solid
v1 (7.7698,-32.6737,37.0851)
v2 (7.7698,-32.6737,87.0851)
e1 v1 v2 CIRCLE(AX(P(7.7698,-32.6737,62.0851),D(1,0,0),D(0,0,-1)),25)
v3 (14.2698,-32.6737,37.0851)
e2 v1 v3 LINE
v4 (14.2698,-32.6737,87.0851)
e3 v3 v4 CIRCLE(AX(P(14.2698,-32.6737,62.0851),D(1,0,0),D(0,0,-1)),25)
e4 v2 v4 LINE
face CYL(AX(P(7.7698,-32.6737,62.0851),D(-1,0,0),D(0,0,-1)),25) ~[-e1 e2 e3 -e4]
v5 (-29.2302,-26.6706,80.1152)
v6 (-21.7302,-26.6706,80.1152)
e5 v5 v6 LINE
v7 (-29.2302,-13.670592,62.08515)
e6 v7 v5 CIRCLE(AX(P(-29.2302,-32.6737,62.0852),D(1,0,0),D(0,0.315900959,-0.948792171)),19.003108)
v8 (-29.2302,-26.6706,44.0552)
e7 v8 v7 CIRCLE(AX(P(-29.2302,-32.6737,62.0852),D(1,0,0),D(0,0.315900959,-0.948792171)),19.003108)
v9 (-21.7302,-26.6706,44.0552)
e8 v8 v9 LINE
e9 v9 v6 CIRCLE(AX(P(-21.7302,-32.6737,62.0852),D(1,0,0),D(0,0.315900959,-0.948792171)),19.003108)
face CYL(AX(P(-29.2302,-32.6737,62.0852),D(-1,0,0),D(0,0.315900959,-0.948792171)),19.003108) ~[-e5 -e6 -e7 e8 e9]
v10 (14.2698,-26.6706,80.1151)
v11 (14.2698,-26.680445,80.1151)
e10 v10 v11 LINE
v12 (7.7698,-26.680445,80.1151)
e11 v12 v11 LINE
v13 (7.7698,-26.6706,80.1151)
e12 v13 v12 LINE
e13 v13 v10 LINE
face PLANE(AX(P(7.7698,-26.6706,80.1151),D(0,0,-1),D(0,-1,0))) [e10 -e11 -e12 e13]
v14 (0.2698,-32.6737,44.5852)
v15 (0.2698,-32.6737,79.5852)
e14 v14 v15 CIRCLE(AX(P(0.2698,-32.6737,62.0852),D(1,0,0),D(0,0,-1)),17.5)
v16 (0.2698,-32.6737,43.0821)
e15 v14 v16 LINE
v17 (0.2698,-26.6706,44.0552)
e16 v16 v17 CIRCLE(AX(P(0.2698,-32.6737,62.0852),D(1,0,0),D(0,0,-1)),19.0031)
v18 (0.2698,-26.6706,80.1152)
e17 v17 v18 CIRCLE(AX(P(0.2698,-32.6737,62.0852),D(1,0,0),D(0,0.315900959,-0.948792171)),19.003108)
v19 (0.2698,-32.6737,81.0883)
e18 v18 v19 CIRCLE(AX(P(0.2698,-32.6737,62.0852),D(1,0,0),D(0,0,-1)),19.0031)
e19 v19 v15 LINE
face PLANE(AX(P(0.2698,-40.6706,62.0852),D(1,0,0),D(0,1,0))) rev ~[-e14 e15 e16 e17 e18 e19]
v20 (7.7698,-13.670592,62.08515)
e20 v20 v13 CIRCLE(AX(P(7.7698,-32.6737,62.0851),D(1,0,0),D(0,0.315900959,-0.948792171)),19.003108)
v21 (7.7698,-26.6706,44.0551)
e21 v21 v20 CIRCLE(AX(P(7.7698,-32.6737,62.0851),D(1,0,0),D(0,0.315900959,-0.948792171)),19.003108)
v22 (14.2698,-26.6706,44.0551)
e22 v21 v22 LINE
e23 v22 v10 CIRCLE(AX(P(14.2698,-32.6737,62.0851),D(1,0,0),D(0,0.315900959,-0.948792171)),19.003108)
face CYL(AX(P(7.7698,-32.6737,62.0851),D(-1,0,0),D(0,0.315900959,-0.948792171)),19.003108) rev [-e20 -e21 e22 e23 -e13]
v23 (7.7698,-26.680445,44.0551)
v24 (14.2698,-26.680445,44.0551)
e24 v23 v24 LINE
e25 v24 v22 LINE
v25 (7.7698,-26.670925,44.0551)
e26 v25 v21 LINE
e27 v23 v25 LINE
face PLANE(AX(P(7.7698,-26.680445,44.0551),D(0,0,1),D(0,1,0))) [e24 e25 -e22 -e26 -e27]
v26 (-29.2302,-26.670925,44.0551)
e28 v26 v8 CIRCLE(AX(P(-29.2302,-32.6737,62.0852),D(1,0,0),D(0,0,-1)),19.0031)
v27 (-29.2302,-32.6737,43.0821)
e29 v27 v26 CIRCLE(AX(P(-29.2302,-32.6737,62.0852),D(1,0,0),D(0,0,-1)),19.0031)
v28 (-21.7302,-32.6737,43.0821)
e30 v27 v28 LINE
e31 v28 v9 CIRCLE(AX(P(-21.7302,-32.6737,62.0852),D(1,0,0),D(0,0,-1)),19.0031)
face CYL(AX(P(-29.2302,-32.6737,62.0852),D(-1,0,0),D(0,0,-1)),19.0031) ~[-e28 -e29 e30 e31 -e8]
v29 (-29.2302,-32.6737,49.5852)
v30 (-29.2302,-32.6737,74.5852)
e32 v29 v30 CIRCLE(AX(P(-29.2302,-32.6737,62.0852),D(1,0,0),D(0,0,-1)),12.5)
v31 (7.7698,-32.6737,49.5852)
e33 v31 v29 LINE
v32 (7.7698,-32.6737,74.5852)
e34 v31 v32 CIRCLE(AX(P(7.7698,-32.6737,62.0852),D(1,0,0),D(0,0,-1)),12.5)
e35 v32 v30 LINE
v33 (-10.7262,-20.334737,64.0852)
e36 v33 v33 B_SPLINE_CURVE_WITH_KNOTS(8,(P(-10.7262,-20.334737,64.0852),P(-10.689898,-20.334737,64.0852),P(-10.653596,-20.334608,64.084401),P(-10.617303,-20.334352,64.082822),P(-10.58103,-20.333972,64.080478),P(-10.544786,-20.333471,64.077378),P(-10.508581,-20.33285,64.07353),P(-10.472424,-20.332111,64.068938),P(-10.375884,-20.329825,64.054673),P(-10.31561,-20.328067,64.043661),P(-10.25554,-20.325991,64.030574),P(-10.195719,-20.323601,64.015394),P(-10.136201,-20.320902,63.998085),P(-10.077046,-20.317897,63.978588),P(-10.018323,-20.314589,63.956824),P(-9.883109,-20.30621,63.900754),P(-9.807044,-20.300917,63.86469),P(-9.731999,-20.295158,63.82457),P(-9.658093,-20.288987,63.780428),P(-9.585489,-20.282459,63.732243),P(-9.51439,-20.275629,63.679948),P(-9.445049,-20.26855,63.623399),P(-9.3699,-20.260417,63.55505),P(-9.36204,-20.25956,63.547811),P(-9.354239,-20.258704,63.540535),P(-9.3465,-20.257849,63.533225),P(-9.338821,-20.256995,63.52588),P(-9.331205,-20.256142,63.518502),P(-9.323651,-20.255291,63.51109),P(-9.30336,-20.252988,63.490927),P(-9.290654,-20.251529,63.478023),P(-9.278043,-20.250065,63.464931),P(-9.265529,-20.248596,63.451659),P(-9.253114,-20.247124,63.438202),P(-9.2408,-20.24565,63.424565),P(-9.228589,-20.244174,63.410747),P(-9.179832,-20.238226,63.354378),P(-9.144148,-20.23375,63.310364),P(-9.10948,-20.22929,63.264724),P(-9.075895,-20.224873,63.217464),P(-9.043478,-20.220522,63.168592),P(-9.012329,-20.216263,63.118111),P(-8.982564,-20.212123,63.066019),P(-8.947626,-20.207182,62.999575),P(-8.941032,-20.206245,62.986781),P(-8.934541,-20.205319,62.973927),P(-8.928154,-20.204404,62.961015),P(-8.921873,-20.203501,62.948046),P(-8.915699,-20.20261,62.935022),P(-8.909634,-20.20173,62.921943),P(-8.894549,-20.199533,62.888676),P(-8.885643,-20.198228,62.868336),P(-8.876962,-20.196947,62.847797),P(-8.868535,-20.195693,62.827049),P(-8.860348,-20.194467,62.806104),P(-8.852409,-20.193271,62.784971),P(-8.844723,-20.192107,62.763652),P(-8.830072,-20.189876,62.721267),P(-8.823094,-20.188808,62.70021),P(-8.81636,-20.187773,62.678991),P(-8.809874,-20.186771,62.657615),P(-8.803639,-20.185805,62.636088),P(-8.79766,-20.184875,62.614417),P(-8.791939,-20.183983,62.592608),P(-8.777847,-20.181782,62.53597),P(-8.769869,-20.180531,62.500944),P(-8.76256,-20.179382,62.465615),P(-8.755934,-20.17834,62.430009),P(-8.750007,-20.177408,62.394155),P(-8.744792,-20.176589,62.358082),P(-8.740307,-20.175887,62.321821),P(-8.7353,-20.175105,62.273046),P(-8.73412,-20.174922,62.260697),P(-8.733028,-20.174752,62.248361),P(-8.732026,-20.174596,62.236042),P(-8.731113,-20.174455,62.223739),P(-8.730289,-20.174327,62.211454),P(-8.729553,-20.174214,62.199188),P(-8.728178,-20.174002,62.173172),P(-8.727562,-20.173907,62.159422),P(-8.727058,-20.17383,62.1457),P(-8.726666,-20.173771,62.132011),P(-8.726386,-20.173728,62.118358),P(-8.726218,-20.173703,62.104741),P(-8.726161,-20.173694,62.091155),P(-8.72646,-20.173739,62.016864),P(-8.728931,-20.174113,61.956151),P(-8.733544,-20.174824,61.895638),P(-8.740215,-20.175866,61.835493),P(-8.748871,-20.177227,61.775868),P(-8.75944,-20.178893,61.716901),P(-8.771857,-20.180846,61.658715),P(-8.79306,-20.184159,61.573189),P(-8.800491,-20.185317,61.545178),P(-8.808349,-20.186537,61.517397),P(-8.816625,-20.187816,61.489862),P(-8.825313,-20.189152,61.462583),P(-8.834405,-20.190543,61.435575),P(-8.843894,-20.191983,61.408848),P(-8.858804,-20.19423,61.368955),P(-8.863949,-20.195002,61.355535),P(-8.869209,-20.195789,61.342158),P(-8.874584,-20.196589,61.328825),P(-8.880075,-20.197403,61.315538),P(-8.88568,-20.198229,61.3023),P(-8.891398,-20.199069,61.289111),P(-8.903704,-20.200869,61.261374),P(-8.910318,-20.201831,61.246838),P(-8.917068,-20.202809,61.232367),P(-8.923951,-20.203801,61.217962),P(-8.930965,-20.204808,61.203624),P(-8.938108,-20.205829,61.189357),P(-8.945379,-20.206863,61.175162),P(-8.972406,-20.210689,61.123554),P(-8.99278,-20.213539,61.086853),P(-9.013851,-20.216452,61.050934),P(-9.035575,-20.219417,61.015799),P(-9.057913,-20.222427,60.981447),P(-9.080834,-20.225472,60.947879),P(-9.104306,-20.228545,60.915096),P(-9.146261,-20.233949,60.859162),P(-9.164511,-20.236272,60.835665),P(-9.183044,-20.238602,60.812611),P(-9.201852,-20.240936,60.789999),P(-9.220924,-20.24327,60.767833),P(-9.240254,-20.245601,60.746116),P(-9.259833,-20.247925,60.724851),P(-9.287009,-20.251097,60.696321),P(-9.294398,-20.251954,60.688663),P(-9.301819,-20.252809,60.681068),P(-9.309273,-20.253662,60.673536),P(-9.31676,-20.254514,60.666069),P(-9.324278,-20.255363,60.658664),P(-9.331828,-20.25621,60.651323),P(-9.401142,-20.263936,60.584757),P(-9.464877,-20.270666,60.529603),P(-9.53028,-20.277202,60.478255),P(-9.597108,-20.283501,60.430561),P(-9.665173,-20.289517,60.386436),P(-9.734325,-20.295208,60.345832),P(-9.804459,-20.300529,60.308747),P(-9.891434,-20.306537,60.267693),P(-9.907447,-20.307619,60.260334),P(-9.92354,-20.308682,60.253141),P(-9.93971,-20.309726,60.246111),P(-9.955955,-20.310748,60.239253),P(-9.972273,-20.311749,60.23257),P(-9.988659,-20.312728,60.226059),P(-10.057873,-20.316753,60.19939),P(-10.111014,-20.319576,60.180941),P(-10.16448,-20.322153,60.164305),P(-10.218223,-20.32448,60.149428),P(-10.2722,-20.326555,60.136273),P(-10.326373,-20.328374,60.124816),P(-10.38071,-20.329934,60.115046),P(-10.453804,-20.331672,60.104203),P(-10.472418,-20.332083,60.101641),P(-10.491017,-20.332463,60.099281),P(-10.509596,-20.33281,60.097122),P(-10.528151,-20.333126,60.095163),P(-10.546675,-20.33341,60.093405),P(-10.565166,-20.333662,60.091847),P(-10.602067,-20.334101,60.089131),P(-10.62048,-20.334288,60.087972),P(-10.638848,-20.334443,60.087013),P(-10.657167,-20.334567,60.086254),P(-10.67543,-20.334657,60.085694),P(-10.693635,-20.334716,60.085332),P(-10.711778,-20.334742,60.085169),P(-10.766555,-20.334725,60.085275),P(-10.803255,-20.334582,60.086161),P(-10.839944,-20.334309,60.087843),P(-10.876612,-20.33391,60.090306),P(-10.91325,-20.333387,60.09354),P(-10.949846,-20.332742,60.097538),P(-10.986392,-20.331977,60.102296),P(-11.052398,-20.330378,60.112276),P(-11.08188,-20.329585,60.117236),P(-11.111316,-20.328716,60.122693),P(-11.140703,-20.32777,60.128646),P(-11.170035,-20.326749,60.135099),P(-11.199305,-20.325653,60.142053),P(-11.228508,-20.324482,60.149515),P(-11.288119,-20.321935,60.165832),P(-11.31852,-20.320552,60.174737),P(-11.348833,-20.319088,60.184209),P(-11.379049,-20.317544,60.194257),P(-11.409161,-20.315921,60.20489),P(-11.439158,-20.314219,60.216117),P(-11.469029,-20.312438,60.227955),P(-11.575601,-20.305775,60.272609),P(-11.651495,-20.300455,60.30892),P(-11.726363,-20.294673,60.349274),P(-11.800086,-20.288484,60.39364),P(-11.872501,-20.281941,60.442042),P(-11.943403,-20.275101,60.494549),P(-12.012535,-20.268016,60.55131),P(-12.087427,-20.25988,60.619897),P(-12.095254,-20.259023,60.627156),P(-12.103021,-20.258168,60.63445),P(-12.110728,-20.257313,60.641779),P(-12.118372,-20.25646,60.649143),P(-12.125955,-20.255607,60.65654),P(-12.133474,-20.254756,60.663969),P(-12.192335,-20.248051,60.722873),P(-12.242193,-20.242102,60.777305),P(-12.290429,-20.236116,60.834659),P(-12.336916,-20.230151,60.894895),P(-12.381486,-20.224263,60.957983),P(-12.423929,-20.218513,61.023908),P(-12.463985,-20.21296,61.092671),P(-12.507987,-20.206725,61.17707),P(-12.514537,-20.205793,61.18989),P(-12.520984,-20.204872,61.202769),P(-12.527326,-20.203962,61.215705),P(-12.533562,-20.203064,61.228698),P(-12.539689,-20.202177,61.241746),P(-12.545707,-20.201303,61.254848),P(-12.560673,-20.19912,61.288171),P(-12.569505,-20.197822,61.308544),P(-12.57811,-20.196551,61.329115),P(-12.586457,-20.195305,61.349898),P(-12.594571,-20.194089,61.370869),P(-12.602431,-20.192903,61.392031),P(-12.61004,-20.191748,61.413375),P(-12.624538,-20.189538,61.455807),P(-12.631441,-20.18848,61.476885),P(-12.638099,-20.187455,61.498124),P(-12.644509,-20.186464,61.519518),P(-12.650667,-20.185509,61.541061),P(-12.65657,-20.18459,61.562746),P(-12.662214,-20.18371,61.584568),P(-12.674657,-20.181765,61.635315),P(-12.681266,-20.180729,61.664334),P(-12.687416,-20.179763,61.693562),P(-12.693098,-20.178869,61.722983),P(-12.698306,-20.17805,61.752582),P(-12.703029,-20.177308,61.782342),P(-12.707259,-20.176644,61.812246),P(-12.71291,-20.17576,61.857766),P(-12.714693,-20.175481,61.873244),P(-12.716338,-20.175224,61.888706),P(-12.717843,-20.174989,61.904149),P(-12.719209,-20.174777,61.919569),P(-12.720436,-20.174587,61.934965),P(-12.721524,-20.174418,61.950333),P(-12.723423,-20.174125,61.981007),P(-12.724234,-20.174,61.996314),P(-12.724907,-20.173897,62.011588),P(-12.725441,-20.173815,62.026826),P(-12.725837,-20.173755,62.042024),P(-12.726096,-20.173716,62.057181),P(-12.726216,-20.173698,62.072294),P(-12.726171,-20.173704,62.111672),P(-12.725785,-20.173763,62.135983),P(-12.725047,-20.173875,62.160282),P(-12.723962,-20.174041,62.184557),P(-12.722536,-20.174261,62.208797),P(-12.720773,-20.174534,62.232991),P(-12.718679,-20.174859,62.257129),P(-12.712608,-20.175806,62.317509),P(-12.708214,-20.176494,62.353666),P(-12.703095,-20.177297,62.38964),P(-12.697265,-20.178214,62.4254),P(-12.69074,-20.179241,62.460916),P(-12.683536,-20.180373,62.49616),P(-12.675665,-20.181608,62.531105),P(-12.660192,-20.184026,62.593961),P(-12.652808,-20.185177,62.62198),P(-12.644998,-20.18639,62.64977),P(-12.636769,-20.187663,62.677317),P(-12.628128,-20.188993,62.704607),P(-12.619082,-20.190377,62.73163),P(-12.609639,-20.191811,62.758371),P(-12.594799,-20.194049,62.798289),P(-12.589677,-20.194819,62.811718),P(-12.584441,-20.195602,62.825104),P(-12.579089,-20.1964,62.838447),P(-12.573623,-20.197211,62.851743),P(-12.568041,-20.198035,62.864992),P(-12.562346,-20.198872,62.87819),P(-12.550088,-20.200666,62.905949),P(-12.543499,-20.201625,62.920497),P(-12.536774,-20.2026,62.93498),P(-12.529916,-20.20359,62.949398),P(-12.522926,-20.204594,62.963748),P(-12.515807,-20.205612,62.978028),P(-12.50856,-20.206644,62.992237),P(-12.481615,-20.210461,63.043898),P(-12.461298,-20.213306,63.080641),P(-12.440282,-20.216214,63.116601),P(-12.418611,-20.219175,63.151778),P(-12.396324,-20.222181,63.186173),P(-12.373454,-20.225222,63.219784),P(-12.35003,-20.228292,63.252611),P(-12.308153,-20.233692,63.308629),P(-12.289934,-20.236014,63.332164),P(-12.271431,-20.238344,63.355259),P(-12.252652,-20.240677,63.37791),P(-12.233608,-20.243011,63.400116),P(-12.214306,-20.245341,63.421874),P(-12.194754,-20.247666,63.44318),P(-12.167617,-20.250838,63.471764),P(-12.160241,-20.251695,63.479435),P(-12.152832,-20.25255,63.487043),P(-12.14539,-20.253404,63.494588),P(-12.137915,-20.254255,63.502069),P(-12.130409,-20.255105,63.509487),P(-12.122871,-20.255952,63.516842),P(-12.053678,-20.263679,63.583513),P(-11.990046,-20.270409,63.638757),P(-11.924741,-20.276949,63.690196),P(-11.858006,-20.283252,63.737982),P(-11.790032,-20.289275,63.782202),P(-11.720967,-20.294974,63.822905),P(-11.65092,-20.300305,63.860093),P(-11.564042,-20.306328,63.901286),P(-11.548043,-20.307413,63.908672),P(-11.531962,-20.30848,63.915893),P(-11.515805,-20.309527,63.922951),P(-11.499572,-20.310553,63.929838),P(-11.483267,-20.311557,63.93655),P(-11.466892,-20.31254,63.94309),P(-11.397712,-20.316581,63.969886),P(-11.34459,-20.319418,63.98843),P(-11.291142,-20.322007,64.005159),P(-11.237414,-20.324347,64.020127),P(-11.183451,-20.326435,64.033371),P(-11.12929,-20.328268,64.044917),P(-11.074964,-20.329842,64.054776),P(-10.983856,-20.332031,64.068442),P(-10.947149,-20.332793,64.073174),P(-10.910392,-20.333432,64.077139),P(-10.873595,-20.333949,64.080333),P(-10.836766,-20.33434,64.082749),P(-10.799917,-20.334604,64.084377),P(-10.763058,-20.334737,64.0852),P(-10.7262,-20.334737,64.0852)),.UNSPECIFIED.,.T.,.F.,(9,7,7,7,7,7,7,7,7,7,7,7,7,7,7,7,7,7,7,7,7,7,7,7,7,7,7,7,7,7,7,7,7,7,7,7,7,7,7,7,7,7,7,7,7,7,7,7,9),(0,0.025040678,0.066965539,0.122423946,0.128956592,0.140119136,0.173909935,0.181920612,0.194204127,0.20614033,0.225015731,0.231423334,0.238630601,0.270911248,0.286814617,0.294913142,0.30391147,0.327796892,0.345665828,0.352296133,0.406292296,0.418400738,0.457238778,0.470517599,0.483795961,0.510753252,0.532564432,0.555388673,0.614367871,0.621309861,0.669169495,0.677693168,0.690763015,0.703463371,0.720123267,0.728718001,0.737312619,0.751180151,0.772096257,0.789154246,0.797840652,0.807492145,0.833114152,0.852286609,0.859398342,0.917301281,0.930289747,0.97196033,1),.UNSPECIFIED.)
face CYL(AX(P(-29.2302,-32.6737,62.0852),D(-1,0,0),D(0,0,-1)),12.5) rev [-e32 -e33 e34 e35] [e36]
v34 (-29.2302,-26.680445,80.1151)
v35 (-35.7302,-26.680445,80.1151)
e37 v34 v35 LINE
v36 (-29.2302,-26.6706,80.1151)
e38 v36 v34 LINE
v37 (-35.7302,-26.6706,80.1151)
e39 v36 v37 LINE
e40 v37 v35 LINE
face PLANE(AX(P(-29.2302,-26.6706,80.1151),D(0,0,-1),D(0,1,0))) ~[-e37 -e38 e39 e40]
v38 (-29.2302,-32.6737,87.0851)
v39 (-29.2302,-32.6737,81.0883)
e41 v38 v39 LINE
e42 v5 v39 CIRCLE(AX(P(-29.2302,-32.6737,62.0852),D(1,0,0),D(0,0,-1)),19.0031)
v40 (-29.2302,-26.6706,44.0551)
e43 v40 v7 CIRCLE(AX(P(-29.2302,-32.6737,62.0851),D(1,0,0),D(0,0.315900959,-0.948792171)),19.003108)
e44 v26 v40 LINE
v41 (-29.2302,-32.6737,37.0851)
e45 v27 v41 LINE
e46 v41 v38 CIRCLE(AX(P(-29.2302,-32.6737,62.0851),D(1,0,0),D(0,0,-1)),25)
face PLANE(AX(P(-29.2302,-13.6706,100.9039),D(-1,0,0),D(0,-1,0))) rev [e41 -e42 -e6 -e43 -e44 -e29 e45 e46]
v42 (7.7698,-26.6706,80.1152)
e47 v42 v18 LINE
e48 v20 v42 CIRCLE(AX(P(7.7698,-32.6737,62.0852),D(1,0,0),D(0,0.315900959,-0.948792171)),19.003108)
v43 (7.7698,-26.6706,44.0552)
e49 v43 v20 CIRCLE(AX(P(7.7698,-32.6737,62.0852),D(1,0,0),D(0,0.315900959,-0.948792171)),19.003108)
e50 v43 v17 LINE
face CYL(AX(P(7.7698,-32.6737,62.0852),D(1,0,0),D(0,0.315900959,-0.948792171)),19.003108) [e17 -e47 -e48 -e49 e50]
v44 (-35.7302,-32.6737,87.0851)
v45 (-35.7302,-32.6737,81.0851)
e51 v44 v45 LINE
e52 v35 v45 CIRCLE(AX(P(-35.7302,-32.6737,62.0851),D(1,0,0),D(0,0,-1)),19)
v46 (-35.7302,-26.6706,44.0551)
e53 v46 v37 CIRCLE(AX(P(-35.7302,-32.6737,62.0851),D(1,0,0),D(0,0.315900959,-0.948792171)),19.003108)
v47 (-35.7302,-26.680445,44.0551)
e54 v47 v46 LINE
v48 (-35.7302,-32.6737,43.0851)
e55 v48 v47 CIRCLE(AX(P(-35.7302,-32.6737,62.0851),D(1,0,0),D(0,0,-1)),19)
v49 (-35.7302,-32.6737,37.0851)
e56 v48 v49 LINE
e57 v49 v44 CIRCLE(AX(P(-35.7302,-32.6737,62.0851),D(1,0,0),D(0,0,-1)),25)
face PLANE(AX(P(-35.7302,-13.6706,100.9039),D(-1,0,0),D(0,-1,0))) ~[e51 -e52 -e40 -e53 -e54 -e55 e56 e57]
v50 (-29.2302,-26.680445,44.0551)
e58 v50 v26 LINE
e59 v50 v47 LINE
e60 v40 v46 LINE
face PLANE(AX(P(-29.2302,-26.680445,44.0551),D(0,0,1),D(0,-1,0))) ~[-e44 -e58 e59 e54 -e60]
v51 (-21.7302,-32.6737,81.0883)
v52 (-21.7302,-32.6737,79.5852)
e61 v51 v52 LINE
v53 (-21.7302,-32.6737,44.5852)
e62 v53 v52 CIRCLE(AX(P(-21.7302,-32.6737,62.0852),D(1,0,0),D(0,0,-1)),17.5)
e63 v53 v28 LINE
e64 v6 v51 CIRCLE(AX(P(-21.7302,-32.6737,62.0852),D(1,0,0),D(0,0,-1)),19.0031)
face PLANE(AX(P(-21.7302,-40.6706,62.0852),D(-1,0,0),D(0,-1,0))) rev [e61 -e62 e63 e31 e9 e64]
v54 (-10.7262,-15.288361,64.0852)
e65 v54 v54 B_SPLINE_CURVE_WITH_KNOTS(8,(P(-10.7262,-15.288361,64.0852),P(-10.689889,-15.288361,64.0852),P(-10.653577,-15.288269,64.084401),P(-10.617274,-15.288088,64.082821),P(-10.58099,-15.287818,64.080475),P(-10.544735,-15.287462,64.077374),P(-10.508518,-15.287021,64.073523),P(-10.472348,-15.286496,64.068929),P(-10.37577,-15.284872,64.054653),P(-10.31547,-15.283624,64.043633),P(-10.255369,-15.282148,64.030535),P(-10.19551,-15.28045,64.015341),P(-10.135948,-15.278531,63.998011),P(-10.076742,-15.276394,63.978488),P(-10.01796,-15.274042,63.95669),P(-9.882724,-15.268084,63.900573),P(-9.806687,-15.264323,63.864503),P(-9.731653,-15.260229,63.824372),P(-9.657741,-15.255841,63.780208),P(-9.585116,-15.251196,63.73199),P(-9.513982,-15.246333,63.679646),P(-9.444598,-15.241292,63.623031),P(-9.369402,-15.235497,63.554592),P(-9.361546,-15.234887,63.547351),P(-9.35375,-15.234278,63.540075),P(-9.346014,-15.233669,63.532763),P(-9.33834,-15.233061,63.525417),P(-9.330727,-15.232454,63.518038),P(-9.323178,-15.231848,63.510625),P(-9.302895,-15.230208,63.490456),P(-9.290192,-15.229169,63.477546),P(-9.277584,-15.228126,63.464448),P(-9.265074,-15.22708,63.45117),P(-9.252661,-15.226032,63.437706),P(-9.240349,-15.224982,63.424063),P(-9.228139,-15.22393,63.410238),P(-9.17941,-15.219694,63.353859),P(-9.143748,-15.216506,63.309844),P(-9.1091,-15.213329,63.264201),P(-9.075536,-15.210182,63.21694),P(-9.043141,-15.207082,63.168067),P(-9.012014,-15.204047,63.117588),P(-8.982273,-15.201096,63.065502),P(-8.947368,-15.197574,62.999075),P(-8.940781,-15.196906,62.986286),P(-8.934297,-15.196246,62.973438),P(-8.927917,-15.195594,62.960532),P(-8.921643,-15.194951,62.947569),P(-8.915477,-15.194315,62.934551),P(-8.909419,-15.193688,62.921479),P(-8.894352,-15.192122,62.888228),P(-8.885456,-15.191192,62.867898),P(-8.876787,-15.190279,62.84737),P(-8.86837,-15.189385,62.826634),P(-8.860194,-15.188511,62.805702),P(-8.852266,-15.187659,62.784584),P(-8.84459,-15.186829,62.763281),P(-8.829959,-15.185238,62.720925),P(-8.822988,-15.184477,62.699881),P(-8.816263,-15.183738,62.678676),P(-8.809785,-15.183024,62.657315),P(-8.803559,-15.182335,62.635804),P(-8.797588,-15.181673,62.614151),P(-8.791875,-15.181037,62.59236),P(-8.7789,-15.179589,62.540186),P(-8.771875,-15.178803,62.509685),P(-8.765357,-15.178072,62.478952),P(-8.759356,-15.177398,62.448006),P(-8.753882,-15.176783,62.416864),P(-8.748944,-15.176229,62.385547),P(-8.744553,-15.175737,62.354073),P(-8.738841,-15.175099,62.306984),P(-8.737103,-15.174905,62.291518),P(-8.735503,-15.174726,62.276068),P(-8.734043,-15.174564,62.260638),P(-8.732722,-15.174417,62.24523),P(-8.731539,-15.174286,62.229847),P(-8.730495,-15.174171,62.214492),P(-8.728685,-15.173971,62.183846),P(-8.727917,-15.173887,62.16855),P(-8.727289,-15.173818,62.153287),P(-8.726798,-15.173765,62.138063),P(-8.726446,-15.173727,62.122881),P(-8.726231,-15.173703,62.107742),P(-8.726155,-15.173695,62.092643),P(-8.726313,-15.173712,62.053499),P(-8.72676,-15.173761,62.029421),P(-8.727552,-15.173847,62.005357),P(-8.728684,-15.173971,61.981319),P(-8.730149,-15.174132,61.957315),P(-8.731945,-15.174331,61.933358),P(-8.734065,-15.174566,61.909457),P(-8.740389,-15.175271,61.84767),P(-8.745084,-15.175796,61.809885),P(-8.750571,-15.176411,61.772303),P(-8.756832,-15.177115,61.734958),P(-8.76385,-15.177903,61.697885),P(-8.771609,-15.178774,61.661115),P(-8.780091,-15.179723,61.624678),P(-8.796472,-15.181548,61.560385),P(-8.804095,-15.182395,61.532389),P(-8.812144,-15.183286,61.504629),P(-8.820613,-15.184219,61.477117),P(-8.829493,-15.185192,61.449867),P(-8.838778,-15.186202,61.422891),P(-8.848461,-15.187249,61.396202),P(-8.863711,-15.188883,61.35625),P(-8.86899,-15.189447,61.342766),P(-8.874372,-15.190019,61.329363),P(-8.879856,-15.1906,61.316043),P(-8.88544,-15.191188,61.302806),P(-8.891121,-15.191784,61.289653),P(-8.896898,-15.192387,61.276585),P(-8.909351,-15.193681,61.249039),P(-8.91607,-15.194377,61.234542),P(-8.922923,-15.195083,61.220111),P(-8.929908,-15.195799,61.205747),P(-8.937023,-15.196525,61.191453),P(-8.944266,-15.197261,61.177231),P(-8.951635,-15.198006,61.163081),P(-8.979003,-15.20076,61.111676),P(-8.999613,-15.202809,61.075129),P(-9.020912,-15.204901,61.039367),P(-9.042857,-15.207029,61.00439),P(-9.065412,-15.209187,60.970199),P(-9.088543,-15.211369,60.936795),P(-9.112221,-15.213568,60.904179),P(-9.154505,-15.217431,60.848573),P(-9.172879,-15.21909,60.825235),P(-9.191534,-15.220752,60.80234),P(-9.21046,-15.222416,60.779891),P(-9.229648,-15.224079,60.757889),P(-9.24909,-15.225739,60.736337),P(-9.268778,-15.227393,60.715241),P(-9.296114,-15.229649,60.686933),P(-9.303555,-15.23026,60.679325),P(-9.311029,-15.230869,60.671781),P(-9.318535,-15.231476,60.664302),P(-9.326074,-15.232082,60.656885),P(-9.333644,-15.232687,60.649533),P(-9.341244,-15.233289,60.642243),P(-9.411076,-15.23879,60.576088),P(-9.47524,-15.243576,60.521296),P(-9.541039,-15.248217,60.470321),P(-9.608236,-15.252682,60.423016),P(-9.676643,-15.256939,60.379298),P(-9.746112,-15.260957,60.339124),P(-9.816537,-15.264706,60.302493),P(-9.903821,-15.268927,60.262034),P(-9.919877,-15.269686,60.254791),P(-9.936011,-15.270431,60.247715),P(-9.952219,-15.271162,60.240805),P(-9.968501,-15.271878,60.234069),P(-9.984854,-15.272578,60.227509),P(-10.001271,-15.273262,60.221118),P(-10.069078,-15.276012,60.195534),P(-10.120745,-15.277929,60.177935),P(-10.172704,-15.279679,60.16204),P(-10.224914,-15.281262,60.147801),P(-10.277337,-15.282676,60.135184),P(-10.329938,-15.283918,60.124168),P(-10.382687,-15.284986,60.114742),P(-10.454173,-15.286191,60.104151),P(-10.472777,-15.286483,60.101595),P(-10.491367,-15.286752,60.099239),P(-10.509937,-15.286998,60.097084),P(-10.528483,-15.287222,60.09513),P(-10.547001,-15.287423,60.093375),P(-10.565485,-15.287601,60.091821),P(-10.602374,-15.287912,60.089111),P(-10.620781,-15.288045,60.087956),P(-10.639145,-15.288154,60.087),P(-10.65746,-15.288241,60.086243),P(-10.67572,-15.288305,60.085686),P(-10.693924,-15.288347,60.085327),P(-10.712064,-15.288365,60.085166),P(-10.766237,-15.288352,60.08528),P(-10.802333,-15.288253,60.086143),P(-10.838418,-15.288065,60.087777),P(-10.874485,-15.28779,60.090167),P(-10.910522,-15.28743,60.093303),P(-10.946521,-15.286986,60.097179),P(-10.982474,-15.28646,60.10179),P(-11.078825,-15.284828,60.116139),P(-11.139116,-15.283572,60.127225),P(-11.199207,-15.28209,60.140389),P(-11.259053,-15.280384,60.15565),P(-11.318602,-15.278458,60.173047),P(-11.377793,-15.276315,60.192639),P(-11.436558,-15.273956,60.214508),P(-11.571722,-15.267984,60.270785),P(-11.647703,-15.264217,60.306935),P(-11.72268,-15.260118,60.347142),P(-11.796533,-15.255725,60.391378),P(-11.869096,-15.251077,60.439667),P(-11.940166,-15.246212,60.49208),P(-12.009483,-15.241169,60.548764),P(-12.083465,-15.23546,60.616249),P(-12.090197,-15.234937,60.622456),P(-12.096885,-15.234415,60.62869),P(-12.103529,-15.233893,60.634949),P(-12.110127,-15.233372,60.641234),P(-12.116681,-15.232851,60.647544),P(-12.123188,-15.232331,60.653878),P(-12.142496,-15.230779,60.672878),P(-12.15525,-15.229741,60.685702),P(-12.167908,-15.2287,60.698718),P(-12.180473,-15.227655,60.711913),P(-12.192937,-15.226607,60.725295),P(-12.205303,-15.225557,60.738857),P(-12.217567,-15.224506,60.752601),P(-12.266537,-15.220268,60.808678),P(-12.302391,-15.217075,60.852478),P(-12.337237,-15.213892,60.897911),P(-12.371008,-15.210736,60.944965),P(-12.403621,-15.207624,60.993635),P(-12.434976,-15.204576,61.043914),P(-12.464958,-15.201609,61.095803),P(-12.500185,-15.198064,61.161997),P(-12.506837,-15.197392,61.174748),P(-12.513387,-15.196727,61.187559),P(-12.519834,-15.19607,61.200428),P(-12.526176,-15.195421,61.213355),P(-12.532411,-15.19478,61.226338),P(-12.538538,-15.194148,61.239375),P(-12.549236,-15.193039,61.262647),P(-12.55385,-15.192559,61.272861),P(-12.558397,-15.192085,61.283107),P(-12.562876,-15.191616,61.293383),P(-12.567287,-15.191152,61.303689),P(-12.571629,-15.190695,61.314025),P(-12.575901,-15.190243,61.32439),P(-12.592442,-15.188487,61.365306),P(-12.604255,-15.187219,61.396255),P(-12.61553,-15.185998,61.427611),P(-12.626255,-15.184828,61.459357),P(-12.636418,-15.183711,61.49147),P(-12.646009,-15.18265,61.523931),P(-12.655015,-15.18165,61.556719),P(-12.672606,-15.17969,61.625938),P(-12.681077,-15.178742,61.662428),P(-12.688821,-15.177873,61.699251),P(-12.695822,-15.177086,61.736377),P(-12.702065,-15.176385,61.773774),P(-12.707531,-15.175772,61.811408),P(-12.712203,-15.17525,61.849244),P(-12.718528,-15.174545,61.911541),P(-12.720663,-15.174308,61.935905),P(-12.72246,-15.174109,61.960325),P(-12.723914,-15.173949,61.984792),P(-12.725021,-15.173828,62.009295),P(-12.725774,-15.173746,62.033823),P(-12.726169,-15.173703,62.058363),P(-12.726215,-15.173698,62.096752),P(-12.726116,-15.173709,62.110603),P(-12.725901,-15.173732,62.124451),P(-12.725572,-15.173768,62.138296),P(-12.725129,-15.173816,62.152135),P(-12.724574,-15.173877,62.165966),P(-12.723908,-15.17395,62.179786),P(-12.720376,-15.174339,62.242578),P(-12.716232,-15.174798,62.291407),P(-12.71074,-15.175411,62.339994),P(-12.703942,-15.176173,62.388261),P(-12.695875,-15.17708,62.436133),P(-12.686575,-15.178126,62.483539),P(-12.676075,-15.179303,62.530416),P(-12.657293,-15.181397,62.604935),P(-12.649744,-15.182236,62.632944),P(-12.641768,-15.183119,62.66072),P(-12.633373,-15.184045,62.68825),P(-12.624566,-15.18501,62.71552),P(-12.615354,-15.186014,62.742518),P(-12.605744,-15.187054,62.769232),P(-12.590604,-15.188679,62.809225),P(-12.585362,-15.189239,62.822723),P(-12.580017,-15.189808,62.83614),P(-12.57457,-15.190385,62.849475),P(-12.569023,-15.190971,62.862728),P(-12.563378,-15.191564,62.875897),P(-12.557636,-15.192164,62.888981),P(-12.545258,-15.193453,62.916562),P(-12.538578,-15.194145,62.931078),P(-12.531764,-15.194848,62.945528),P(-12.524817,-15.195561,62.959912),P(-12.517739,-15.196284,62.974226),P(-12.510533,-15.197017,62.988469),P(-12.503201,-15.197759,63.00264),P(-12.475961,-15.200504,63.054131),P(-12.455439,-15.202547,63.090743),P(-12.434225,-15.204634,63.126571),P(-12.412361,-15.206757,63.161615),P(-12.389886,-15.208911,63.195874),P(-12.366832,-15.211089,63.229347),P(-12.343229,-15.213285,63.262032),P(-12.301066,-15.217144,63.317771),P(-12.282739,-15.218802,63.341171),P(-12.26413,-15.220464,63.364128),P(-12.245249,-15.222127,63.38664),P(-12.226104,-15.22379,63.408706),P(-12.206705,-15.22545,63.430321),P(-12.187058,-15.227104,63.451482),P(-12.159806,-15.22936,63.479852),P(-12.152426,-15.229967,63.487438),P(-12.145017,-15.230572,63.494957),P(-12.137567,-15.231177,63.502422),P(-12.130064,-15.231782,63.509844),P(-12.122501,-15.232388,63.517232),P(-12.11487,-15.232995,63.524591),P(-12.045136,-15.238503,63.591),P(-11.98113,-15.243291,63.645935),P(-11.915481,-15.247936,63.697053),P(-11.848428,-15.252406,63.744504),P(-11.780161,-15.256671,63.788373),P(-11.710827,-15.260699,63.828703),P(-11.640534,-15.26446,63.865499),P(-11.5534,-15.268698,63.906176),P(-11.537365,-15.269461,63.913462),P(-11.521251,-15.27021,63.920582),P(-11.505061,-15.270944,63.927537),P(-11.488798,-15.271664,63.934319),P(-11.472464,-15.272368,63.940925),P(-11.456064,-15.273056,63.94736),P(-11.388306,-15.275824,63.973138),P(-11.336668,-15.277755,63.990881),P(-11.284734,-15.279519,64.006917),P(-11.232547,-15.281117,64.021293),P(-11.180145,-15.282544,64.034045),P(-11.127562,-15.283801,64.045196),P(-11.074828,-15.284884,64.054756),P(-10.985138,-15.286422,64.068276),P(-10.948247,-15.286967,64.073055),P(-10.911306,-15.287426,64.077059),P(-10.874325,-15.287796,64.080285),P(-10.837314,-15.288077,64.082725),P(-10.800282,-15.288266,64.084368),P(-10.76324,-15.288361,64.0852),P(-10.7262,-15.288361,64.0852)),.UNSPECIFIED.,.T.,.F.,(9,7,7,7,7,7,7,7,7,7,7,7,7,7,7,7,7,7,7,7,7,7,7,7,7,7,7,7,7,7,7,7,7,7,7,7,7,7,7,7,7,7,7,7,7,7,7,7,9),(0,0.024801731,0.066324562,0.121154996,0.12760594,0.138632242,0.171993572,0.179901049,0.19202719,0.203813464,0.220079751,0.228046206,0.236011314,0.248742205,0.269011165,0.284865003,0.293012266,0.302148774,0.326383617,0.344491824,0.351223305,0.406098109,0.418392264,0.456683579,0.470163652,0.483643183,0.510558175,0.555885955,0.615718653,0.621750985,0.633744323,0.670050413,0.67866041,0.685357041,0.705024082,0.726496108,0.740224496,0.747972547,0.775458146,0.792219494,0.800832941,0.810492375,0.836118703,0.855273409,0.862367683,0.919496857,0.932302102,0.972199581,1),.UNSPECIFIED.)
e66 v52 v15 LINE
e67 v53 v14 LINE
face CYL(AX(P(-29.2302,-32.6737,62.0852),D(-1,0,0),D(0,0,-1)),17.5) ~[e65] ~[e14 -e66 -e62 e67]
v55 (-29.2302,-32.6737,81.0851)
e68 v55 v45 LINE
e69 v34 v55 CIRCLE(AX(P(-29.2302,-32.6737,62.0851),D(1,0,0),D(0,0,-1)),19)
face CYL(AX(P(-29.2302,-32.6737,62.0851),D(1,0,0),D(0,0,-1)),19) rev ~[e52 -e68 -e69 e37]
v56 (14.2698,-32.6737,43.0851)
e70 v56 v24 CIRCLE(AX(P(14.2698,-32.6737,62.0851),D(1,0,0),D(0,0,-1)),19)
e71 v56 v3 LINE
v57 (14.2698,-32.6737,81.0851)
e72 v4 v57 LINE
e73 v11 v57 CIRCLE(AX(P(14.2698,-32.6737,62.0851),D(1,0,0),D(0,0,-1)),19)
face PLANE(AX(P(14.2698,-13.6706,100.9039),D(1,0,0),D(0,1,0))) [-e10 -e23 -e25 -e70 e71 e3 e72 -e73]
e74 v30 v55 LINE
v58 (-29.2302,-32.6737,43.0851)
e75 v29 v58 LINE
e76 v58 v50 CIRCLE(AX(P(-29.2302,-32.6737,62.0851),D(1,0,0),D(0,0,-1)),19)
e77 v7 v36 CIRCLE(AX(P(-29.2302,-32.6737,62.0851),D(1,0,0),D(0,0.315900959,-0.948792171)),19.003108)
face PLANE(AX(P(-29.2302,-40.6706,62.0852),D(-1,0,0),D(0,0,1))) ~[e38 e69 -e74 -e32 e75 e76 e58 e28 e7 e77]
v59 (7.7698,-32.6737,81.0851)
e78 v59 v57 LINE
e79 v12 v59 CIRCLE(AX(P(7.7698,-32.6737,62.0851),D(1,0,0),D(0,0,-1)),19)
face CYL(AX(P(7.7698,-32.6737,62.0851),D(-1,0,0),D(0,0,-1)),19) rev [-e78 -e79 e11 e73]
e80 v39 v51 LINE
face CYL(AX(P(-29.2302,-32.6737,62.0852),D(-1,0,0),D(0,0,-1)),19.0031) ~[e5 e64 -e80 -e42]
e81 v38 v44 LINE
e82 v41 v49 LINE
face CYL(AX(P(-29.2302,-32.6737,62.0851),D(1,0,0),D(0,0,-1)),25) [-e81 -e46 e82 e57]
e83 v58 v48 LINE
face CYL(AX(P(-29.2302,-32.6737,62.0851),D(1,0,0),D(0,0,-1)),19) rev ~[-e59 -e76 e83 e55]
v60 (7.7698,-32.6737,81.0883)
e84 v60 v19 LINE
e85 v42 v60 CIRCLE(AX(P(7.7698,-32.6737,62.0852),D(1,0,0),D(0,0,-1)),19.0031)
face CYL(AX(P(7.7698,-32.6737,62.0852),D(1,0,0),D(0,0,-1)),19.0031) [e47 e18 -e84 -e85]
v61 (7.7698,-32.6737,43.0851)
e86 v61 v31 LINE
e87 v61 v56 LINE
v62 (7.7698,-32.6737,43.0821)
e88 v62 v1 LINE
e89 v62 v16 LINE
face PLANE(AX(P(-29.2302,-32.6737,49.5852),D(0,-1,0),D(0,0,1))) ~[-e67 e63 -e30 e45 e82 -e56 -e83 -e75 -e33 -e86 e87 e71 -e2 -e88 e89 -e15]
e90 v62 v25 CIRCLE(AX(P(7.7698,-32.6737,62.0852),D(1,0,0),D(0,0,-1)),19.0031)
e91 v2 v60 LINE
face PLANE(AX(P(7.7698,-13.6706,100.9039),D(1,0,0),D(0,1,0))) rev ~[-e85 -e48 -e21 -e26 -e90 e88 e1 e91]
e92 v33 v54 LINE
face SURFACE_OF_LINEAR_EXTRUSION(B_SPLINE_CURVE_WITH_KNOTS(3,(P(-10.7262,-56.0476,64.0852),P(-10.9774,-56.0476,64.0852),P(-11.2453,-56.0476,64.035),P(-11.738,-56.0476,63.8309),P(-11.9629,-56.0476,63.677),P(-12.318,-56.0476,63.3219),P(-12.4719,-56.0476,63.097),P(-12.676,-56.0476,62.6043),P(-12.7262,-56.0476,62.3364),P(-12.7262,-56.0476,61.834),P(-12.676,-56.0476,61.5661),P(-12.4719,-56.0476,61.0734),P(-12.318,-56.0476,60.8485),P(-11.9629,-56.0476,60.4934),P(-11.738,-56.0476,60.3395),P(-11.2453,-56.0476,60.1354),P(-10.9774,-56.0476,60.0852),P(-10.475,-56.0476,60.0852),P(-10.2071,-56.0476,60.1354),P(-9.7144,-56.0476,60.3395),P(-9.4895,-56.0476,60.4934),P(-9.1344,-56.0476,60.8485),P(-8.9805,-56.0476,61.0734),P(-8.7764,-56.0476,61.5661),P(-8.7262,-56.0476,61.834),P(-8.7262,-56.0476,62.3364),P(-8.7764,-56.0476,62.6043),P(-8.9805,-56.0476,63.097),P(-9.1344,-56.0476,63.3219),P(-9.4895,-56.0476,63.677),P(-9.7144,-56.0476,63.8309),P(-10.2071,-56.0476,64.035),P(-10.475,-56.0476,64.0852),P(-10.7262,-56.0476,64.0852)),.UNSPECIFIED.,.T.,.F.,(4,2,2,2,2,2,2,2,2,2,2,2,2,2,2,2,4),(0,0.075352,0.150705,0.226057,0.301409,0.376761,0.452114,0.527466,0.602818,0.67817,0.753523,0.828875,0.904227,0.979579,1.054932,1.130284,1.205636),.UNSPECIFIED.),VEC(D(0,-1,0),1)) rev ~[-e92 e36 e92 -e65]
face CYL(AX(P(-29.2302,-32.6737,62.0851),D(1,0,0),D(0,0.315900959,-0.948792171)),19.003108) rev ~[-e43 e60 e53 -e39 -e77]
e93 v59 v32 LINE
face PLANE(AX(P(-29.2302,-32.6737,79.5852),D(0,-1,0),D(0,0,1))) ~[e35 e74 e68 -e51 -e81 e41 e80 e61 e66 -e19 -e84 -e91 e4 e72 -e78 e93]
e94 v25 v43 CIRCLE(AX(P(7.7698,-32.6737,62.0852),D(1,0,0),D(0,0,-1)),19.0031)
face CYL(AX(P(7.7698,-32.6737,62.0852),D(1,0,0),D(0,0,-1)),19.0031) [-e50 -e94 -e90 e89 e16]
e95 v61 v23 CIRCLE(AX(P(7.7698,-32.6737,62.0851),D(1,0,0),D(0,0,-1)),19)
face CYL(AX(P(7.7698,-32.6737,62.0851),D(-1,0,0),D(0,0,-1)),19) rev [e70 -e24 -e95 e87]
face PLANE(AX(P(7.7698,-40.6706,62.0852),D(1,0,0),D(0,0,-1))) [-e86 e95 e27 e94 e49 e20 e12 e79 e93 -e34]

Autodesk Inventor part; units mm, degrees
ref_plane "YZ Plane" through (0, 0, 0) normal (1, 0, 0) x (0, 1, 0)
ref_plane "XZ Plane" through (0, 0, 0) normal (0, 1, 0) x (-1, 0, 0)
ref_plane "XY Plane" through (0, 0, 0) normal (0, 0, 1) x (1, 0, 0)
ref_plane "Work Plane1" through (7.7698, -13.6706, 100.9039) normal (1, 0, 0) x (0, 1, 0)
sketch "Sketch1" plane through (7.7698, -13.6706, 100.9039) normal (1, 0, 0) x (0, 1, 0)
  arc A0 (-13, -56.8488) -> (-13, -20.7888) centre (-19.0031, -38.8188) ccw projected
  line L0 (-26, -56.8488) -> (-13, -56.8488) projected
  line L1 (-13, -20.7888) -> (-26, -20.7888) projected
  arc A1 (-19.0031, -51.3188) -> (-19.0031, -26.3188) centre (-19.0031, -38.8188) ccw
  arc A2 (-19.0031, -56.3188) -> (-19.0031, -21.3188) centre (-19.0031, -38.8188) ccw
  arc A3 (-19.0031, -63.8188) -> (-19.0031, -13.8188) centre (-19.0031, -38.8188) ccw
  line L2 (-19.0031, -13.8188) -> (-19.0031, -63.8188)
  arc A4 (-13, -56.8488) -> (-13, -20.7888) centre (-19.0031, -38.8188) ccw projected
  arc A5 (-19.0031, -57.8188) -> (-19.0031, -19.8188) centre (-19.0031, -38.8188) ccw
  point P0 (13.6706, -100.9039)
  point P1 (-13.0099, -20.7888)
  point P2 (-13.0099, -56.8488)
  dimension "d0" = 12.5
  dimension "d1" = 17.5
  dimension "d2" = 25
  dimension "d3" = 19
extrude "Extrusion1" add sketch "Sketch1" along normal blind 6.5 contours A0 L1 A5 L2 A3 L0
ref_plane "Work Plane2" through (7.7698, -40.6706, 62.0852) normal (1, 0, 0) x (0, 1, 0)
sketch "Sketch2" plane through (7.7698, -40.6706, 62.0852) normal (1, 0, 0) x (0, 1, 0)
  arc A0 (14, -18.03) -> (14, 18.03) centre (7.9969, 0) ccw projected
  arc A1 (7.9969, -19.0031) -> (7.9969, 19.0031) centre (7.9969, 0) ccw
  arc A2 (7.9969, -17.5) -> (7.9969, 17.5) centre (7.9969, 0) ccw
  line L0 (7.9969, 19.0031) -> (7.9969, -19.0031)
  point P0 (40.6706, -62.0852)
  point P1 (14, 18.03)
  dimension "d6" = 17.5
extrude "Extrusion2" add sketch "Sketch2" against normal blind 7.5 contours A1 L0 A2 A0
sketch "Sketch3" plane through (7.7698, -40.6706, 62.0852) normal (1, 0, 0) x (0, 0, -1)
  arc A0 (17.5, 7.9969) -> (-17.5, 7.9969) centre (0, 7.9969) ccw projected
  arc A1 (18.03, 14) -> (-18.03, 14) centre (0, 7.9969) ccw projected
  arc A2 (12.5, 7.9969) -> (-12.5, 7.9969) centre (0, 7.9969) ccw
  line L0 (-17.5, 7.9969) -> (17.5, 7.9969)
  point P0 (62.0852, 40.6706)
  dimension "d9" = 12.5
extrude "Extrusion3" add sketch "Sketch3" against normal blind 18.5 contours L0 A2 A0
ref_plane "Work Plane3" through (-10.7302, -40.6706, 62.0852) normal (-1, 0, 0) x (0, 0, 1)
mirror "Mirror1" about plane through (-10.7302, -40.6706, 62.0852) normal (-1, 0, 0) of "Extrusion1", "Extrusion2", "Extrusion3"
ref_plane "Work Plane4" through (-10.7262, -56.0476, 62.0852) normal (0, 1, 0) x (-1, 0, 0)
sketch "Sketch4" plane through (-10.7262, -56.0476, 62.0852) normal (0, 1, 0) x (-1, 0, 0)
  spline S0 degree 3 poles (0, 2) (0.2512, 2) (0.5191, 1.9498) (1.0118, 1.7457) (1.2367, 1.5918) (1.5918, 1.2367) (1.7457, 1.0118) (1.9498, 0.5191) (2, 0.2512) (2, -0.2512) (1.9498, -0.5191) (1.7457, -1.0118) (1.5918, -1.2367) (1.2367, -1.5918) (1.0118, -1.7457) (0.5191, -1.9498) (0.2512, -2) (-0.2512, -2) (-0.5191, -1.9498) (-1.0118, -1.7457) (-1.2367, -1.5918) (-1.5918, -1.2367) (-1.7457, -1.0118) (-1.9498, -0.5191) (-2, -0.2512) (-2, 0.2512) (-1.9498, 0.5191) (-1.7457, 1.0118) (-1.5918, 1.2367) (-1.2367, 1.5918) (-1.0118, 1.7457) (-0.5191, 1.9498) (-0.2512, 2) (0, 2) knots 0 0 0 0 0.075352 0.075352 0.150705 0.150705 0.226057 0.226057 0.301409 0.301409 0.376761 0.376761 0.452114 0.452114 0.527466 0.527466 0.602818 0.602818 0.67817 0.67817 0.753523 0.753523 0.828875 0.828875 0.904227 0.904227 0.979579 0.979579 1.054932 1.054932 1.130284 1.130284 1.205636 1.205636 1.205636 1.205636 projected
  point P0 (-10.7262, -62.0852)
  point P1 (0, 2)
extrude "Extrusion4" cut sketch "Sketch4" along normal through all
properties part number "BEARING TOP" material "Iron, Gray"
